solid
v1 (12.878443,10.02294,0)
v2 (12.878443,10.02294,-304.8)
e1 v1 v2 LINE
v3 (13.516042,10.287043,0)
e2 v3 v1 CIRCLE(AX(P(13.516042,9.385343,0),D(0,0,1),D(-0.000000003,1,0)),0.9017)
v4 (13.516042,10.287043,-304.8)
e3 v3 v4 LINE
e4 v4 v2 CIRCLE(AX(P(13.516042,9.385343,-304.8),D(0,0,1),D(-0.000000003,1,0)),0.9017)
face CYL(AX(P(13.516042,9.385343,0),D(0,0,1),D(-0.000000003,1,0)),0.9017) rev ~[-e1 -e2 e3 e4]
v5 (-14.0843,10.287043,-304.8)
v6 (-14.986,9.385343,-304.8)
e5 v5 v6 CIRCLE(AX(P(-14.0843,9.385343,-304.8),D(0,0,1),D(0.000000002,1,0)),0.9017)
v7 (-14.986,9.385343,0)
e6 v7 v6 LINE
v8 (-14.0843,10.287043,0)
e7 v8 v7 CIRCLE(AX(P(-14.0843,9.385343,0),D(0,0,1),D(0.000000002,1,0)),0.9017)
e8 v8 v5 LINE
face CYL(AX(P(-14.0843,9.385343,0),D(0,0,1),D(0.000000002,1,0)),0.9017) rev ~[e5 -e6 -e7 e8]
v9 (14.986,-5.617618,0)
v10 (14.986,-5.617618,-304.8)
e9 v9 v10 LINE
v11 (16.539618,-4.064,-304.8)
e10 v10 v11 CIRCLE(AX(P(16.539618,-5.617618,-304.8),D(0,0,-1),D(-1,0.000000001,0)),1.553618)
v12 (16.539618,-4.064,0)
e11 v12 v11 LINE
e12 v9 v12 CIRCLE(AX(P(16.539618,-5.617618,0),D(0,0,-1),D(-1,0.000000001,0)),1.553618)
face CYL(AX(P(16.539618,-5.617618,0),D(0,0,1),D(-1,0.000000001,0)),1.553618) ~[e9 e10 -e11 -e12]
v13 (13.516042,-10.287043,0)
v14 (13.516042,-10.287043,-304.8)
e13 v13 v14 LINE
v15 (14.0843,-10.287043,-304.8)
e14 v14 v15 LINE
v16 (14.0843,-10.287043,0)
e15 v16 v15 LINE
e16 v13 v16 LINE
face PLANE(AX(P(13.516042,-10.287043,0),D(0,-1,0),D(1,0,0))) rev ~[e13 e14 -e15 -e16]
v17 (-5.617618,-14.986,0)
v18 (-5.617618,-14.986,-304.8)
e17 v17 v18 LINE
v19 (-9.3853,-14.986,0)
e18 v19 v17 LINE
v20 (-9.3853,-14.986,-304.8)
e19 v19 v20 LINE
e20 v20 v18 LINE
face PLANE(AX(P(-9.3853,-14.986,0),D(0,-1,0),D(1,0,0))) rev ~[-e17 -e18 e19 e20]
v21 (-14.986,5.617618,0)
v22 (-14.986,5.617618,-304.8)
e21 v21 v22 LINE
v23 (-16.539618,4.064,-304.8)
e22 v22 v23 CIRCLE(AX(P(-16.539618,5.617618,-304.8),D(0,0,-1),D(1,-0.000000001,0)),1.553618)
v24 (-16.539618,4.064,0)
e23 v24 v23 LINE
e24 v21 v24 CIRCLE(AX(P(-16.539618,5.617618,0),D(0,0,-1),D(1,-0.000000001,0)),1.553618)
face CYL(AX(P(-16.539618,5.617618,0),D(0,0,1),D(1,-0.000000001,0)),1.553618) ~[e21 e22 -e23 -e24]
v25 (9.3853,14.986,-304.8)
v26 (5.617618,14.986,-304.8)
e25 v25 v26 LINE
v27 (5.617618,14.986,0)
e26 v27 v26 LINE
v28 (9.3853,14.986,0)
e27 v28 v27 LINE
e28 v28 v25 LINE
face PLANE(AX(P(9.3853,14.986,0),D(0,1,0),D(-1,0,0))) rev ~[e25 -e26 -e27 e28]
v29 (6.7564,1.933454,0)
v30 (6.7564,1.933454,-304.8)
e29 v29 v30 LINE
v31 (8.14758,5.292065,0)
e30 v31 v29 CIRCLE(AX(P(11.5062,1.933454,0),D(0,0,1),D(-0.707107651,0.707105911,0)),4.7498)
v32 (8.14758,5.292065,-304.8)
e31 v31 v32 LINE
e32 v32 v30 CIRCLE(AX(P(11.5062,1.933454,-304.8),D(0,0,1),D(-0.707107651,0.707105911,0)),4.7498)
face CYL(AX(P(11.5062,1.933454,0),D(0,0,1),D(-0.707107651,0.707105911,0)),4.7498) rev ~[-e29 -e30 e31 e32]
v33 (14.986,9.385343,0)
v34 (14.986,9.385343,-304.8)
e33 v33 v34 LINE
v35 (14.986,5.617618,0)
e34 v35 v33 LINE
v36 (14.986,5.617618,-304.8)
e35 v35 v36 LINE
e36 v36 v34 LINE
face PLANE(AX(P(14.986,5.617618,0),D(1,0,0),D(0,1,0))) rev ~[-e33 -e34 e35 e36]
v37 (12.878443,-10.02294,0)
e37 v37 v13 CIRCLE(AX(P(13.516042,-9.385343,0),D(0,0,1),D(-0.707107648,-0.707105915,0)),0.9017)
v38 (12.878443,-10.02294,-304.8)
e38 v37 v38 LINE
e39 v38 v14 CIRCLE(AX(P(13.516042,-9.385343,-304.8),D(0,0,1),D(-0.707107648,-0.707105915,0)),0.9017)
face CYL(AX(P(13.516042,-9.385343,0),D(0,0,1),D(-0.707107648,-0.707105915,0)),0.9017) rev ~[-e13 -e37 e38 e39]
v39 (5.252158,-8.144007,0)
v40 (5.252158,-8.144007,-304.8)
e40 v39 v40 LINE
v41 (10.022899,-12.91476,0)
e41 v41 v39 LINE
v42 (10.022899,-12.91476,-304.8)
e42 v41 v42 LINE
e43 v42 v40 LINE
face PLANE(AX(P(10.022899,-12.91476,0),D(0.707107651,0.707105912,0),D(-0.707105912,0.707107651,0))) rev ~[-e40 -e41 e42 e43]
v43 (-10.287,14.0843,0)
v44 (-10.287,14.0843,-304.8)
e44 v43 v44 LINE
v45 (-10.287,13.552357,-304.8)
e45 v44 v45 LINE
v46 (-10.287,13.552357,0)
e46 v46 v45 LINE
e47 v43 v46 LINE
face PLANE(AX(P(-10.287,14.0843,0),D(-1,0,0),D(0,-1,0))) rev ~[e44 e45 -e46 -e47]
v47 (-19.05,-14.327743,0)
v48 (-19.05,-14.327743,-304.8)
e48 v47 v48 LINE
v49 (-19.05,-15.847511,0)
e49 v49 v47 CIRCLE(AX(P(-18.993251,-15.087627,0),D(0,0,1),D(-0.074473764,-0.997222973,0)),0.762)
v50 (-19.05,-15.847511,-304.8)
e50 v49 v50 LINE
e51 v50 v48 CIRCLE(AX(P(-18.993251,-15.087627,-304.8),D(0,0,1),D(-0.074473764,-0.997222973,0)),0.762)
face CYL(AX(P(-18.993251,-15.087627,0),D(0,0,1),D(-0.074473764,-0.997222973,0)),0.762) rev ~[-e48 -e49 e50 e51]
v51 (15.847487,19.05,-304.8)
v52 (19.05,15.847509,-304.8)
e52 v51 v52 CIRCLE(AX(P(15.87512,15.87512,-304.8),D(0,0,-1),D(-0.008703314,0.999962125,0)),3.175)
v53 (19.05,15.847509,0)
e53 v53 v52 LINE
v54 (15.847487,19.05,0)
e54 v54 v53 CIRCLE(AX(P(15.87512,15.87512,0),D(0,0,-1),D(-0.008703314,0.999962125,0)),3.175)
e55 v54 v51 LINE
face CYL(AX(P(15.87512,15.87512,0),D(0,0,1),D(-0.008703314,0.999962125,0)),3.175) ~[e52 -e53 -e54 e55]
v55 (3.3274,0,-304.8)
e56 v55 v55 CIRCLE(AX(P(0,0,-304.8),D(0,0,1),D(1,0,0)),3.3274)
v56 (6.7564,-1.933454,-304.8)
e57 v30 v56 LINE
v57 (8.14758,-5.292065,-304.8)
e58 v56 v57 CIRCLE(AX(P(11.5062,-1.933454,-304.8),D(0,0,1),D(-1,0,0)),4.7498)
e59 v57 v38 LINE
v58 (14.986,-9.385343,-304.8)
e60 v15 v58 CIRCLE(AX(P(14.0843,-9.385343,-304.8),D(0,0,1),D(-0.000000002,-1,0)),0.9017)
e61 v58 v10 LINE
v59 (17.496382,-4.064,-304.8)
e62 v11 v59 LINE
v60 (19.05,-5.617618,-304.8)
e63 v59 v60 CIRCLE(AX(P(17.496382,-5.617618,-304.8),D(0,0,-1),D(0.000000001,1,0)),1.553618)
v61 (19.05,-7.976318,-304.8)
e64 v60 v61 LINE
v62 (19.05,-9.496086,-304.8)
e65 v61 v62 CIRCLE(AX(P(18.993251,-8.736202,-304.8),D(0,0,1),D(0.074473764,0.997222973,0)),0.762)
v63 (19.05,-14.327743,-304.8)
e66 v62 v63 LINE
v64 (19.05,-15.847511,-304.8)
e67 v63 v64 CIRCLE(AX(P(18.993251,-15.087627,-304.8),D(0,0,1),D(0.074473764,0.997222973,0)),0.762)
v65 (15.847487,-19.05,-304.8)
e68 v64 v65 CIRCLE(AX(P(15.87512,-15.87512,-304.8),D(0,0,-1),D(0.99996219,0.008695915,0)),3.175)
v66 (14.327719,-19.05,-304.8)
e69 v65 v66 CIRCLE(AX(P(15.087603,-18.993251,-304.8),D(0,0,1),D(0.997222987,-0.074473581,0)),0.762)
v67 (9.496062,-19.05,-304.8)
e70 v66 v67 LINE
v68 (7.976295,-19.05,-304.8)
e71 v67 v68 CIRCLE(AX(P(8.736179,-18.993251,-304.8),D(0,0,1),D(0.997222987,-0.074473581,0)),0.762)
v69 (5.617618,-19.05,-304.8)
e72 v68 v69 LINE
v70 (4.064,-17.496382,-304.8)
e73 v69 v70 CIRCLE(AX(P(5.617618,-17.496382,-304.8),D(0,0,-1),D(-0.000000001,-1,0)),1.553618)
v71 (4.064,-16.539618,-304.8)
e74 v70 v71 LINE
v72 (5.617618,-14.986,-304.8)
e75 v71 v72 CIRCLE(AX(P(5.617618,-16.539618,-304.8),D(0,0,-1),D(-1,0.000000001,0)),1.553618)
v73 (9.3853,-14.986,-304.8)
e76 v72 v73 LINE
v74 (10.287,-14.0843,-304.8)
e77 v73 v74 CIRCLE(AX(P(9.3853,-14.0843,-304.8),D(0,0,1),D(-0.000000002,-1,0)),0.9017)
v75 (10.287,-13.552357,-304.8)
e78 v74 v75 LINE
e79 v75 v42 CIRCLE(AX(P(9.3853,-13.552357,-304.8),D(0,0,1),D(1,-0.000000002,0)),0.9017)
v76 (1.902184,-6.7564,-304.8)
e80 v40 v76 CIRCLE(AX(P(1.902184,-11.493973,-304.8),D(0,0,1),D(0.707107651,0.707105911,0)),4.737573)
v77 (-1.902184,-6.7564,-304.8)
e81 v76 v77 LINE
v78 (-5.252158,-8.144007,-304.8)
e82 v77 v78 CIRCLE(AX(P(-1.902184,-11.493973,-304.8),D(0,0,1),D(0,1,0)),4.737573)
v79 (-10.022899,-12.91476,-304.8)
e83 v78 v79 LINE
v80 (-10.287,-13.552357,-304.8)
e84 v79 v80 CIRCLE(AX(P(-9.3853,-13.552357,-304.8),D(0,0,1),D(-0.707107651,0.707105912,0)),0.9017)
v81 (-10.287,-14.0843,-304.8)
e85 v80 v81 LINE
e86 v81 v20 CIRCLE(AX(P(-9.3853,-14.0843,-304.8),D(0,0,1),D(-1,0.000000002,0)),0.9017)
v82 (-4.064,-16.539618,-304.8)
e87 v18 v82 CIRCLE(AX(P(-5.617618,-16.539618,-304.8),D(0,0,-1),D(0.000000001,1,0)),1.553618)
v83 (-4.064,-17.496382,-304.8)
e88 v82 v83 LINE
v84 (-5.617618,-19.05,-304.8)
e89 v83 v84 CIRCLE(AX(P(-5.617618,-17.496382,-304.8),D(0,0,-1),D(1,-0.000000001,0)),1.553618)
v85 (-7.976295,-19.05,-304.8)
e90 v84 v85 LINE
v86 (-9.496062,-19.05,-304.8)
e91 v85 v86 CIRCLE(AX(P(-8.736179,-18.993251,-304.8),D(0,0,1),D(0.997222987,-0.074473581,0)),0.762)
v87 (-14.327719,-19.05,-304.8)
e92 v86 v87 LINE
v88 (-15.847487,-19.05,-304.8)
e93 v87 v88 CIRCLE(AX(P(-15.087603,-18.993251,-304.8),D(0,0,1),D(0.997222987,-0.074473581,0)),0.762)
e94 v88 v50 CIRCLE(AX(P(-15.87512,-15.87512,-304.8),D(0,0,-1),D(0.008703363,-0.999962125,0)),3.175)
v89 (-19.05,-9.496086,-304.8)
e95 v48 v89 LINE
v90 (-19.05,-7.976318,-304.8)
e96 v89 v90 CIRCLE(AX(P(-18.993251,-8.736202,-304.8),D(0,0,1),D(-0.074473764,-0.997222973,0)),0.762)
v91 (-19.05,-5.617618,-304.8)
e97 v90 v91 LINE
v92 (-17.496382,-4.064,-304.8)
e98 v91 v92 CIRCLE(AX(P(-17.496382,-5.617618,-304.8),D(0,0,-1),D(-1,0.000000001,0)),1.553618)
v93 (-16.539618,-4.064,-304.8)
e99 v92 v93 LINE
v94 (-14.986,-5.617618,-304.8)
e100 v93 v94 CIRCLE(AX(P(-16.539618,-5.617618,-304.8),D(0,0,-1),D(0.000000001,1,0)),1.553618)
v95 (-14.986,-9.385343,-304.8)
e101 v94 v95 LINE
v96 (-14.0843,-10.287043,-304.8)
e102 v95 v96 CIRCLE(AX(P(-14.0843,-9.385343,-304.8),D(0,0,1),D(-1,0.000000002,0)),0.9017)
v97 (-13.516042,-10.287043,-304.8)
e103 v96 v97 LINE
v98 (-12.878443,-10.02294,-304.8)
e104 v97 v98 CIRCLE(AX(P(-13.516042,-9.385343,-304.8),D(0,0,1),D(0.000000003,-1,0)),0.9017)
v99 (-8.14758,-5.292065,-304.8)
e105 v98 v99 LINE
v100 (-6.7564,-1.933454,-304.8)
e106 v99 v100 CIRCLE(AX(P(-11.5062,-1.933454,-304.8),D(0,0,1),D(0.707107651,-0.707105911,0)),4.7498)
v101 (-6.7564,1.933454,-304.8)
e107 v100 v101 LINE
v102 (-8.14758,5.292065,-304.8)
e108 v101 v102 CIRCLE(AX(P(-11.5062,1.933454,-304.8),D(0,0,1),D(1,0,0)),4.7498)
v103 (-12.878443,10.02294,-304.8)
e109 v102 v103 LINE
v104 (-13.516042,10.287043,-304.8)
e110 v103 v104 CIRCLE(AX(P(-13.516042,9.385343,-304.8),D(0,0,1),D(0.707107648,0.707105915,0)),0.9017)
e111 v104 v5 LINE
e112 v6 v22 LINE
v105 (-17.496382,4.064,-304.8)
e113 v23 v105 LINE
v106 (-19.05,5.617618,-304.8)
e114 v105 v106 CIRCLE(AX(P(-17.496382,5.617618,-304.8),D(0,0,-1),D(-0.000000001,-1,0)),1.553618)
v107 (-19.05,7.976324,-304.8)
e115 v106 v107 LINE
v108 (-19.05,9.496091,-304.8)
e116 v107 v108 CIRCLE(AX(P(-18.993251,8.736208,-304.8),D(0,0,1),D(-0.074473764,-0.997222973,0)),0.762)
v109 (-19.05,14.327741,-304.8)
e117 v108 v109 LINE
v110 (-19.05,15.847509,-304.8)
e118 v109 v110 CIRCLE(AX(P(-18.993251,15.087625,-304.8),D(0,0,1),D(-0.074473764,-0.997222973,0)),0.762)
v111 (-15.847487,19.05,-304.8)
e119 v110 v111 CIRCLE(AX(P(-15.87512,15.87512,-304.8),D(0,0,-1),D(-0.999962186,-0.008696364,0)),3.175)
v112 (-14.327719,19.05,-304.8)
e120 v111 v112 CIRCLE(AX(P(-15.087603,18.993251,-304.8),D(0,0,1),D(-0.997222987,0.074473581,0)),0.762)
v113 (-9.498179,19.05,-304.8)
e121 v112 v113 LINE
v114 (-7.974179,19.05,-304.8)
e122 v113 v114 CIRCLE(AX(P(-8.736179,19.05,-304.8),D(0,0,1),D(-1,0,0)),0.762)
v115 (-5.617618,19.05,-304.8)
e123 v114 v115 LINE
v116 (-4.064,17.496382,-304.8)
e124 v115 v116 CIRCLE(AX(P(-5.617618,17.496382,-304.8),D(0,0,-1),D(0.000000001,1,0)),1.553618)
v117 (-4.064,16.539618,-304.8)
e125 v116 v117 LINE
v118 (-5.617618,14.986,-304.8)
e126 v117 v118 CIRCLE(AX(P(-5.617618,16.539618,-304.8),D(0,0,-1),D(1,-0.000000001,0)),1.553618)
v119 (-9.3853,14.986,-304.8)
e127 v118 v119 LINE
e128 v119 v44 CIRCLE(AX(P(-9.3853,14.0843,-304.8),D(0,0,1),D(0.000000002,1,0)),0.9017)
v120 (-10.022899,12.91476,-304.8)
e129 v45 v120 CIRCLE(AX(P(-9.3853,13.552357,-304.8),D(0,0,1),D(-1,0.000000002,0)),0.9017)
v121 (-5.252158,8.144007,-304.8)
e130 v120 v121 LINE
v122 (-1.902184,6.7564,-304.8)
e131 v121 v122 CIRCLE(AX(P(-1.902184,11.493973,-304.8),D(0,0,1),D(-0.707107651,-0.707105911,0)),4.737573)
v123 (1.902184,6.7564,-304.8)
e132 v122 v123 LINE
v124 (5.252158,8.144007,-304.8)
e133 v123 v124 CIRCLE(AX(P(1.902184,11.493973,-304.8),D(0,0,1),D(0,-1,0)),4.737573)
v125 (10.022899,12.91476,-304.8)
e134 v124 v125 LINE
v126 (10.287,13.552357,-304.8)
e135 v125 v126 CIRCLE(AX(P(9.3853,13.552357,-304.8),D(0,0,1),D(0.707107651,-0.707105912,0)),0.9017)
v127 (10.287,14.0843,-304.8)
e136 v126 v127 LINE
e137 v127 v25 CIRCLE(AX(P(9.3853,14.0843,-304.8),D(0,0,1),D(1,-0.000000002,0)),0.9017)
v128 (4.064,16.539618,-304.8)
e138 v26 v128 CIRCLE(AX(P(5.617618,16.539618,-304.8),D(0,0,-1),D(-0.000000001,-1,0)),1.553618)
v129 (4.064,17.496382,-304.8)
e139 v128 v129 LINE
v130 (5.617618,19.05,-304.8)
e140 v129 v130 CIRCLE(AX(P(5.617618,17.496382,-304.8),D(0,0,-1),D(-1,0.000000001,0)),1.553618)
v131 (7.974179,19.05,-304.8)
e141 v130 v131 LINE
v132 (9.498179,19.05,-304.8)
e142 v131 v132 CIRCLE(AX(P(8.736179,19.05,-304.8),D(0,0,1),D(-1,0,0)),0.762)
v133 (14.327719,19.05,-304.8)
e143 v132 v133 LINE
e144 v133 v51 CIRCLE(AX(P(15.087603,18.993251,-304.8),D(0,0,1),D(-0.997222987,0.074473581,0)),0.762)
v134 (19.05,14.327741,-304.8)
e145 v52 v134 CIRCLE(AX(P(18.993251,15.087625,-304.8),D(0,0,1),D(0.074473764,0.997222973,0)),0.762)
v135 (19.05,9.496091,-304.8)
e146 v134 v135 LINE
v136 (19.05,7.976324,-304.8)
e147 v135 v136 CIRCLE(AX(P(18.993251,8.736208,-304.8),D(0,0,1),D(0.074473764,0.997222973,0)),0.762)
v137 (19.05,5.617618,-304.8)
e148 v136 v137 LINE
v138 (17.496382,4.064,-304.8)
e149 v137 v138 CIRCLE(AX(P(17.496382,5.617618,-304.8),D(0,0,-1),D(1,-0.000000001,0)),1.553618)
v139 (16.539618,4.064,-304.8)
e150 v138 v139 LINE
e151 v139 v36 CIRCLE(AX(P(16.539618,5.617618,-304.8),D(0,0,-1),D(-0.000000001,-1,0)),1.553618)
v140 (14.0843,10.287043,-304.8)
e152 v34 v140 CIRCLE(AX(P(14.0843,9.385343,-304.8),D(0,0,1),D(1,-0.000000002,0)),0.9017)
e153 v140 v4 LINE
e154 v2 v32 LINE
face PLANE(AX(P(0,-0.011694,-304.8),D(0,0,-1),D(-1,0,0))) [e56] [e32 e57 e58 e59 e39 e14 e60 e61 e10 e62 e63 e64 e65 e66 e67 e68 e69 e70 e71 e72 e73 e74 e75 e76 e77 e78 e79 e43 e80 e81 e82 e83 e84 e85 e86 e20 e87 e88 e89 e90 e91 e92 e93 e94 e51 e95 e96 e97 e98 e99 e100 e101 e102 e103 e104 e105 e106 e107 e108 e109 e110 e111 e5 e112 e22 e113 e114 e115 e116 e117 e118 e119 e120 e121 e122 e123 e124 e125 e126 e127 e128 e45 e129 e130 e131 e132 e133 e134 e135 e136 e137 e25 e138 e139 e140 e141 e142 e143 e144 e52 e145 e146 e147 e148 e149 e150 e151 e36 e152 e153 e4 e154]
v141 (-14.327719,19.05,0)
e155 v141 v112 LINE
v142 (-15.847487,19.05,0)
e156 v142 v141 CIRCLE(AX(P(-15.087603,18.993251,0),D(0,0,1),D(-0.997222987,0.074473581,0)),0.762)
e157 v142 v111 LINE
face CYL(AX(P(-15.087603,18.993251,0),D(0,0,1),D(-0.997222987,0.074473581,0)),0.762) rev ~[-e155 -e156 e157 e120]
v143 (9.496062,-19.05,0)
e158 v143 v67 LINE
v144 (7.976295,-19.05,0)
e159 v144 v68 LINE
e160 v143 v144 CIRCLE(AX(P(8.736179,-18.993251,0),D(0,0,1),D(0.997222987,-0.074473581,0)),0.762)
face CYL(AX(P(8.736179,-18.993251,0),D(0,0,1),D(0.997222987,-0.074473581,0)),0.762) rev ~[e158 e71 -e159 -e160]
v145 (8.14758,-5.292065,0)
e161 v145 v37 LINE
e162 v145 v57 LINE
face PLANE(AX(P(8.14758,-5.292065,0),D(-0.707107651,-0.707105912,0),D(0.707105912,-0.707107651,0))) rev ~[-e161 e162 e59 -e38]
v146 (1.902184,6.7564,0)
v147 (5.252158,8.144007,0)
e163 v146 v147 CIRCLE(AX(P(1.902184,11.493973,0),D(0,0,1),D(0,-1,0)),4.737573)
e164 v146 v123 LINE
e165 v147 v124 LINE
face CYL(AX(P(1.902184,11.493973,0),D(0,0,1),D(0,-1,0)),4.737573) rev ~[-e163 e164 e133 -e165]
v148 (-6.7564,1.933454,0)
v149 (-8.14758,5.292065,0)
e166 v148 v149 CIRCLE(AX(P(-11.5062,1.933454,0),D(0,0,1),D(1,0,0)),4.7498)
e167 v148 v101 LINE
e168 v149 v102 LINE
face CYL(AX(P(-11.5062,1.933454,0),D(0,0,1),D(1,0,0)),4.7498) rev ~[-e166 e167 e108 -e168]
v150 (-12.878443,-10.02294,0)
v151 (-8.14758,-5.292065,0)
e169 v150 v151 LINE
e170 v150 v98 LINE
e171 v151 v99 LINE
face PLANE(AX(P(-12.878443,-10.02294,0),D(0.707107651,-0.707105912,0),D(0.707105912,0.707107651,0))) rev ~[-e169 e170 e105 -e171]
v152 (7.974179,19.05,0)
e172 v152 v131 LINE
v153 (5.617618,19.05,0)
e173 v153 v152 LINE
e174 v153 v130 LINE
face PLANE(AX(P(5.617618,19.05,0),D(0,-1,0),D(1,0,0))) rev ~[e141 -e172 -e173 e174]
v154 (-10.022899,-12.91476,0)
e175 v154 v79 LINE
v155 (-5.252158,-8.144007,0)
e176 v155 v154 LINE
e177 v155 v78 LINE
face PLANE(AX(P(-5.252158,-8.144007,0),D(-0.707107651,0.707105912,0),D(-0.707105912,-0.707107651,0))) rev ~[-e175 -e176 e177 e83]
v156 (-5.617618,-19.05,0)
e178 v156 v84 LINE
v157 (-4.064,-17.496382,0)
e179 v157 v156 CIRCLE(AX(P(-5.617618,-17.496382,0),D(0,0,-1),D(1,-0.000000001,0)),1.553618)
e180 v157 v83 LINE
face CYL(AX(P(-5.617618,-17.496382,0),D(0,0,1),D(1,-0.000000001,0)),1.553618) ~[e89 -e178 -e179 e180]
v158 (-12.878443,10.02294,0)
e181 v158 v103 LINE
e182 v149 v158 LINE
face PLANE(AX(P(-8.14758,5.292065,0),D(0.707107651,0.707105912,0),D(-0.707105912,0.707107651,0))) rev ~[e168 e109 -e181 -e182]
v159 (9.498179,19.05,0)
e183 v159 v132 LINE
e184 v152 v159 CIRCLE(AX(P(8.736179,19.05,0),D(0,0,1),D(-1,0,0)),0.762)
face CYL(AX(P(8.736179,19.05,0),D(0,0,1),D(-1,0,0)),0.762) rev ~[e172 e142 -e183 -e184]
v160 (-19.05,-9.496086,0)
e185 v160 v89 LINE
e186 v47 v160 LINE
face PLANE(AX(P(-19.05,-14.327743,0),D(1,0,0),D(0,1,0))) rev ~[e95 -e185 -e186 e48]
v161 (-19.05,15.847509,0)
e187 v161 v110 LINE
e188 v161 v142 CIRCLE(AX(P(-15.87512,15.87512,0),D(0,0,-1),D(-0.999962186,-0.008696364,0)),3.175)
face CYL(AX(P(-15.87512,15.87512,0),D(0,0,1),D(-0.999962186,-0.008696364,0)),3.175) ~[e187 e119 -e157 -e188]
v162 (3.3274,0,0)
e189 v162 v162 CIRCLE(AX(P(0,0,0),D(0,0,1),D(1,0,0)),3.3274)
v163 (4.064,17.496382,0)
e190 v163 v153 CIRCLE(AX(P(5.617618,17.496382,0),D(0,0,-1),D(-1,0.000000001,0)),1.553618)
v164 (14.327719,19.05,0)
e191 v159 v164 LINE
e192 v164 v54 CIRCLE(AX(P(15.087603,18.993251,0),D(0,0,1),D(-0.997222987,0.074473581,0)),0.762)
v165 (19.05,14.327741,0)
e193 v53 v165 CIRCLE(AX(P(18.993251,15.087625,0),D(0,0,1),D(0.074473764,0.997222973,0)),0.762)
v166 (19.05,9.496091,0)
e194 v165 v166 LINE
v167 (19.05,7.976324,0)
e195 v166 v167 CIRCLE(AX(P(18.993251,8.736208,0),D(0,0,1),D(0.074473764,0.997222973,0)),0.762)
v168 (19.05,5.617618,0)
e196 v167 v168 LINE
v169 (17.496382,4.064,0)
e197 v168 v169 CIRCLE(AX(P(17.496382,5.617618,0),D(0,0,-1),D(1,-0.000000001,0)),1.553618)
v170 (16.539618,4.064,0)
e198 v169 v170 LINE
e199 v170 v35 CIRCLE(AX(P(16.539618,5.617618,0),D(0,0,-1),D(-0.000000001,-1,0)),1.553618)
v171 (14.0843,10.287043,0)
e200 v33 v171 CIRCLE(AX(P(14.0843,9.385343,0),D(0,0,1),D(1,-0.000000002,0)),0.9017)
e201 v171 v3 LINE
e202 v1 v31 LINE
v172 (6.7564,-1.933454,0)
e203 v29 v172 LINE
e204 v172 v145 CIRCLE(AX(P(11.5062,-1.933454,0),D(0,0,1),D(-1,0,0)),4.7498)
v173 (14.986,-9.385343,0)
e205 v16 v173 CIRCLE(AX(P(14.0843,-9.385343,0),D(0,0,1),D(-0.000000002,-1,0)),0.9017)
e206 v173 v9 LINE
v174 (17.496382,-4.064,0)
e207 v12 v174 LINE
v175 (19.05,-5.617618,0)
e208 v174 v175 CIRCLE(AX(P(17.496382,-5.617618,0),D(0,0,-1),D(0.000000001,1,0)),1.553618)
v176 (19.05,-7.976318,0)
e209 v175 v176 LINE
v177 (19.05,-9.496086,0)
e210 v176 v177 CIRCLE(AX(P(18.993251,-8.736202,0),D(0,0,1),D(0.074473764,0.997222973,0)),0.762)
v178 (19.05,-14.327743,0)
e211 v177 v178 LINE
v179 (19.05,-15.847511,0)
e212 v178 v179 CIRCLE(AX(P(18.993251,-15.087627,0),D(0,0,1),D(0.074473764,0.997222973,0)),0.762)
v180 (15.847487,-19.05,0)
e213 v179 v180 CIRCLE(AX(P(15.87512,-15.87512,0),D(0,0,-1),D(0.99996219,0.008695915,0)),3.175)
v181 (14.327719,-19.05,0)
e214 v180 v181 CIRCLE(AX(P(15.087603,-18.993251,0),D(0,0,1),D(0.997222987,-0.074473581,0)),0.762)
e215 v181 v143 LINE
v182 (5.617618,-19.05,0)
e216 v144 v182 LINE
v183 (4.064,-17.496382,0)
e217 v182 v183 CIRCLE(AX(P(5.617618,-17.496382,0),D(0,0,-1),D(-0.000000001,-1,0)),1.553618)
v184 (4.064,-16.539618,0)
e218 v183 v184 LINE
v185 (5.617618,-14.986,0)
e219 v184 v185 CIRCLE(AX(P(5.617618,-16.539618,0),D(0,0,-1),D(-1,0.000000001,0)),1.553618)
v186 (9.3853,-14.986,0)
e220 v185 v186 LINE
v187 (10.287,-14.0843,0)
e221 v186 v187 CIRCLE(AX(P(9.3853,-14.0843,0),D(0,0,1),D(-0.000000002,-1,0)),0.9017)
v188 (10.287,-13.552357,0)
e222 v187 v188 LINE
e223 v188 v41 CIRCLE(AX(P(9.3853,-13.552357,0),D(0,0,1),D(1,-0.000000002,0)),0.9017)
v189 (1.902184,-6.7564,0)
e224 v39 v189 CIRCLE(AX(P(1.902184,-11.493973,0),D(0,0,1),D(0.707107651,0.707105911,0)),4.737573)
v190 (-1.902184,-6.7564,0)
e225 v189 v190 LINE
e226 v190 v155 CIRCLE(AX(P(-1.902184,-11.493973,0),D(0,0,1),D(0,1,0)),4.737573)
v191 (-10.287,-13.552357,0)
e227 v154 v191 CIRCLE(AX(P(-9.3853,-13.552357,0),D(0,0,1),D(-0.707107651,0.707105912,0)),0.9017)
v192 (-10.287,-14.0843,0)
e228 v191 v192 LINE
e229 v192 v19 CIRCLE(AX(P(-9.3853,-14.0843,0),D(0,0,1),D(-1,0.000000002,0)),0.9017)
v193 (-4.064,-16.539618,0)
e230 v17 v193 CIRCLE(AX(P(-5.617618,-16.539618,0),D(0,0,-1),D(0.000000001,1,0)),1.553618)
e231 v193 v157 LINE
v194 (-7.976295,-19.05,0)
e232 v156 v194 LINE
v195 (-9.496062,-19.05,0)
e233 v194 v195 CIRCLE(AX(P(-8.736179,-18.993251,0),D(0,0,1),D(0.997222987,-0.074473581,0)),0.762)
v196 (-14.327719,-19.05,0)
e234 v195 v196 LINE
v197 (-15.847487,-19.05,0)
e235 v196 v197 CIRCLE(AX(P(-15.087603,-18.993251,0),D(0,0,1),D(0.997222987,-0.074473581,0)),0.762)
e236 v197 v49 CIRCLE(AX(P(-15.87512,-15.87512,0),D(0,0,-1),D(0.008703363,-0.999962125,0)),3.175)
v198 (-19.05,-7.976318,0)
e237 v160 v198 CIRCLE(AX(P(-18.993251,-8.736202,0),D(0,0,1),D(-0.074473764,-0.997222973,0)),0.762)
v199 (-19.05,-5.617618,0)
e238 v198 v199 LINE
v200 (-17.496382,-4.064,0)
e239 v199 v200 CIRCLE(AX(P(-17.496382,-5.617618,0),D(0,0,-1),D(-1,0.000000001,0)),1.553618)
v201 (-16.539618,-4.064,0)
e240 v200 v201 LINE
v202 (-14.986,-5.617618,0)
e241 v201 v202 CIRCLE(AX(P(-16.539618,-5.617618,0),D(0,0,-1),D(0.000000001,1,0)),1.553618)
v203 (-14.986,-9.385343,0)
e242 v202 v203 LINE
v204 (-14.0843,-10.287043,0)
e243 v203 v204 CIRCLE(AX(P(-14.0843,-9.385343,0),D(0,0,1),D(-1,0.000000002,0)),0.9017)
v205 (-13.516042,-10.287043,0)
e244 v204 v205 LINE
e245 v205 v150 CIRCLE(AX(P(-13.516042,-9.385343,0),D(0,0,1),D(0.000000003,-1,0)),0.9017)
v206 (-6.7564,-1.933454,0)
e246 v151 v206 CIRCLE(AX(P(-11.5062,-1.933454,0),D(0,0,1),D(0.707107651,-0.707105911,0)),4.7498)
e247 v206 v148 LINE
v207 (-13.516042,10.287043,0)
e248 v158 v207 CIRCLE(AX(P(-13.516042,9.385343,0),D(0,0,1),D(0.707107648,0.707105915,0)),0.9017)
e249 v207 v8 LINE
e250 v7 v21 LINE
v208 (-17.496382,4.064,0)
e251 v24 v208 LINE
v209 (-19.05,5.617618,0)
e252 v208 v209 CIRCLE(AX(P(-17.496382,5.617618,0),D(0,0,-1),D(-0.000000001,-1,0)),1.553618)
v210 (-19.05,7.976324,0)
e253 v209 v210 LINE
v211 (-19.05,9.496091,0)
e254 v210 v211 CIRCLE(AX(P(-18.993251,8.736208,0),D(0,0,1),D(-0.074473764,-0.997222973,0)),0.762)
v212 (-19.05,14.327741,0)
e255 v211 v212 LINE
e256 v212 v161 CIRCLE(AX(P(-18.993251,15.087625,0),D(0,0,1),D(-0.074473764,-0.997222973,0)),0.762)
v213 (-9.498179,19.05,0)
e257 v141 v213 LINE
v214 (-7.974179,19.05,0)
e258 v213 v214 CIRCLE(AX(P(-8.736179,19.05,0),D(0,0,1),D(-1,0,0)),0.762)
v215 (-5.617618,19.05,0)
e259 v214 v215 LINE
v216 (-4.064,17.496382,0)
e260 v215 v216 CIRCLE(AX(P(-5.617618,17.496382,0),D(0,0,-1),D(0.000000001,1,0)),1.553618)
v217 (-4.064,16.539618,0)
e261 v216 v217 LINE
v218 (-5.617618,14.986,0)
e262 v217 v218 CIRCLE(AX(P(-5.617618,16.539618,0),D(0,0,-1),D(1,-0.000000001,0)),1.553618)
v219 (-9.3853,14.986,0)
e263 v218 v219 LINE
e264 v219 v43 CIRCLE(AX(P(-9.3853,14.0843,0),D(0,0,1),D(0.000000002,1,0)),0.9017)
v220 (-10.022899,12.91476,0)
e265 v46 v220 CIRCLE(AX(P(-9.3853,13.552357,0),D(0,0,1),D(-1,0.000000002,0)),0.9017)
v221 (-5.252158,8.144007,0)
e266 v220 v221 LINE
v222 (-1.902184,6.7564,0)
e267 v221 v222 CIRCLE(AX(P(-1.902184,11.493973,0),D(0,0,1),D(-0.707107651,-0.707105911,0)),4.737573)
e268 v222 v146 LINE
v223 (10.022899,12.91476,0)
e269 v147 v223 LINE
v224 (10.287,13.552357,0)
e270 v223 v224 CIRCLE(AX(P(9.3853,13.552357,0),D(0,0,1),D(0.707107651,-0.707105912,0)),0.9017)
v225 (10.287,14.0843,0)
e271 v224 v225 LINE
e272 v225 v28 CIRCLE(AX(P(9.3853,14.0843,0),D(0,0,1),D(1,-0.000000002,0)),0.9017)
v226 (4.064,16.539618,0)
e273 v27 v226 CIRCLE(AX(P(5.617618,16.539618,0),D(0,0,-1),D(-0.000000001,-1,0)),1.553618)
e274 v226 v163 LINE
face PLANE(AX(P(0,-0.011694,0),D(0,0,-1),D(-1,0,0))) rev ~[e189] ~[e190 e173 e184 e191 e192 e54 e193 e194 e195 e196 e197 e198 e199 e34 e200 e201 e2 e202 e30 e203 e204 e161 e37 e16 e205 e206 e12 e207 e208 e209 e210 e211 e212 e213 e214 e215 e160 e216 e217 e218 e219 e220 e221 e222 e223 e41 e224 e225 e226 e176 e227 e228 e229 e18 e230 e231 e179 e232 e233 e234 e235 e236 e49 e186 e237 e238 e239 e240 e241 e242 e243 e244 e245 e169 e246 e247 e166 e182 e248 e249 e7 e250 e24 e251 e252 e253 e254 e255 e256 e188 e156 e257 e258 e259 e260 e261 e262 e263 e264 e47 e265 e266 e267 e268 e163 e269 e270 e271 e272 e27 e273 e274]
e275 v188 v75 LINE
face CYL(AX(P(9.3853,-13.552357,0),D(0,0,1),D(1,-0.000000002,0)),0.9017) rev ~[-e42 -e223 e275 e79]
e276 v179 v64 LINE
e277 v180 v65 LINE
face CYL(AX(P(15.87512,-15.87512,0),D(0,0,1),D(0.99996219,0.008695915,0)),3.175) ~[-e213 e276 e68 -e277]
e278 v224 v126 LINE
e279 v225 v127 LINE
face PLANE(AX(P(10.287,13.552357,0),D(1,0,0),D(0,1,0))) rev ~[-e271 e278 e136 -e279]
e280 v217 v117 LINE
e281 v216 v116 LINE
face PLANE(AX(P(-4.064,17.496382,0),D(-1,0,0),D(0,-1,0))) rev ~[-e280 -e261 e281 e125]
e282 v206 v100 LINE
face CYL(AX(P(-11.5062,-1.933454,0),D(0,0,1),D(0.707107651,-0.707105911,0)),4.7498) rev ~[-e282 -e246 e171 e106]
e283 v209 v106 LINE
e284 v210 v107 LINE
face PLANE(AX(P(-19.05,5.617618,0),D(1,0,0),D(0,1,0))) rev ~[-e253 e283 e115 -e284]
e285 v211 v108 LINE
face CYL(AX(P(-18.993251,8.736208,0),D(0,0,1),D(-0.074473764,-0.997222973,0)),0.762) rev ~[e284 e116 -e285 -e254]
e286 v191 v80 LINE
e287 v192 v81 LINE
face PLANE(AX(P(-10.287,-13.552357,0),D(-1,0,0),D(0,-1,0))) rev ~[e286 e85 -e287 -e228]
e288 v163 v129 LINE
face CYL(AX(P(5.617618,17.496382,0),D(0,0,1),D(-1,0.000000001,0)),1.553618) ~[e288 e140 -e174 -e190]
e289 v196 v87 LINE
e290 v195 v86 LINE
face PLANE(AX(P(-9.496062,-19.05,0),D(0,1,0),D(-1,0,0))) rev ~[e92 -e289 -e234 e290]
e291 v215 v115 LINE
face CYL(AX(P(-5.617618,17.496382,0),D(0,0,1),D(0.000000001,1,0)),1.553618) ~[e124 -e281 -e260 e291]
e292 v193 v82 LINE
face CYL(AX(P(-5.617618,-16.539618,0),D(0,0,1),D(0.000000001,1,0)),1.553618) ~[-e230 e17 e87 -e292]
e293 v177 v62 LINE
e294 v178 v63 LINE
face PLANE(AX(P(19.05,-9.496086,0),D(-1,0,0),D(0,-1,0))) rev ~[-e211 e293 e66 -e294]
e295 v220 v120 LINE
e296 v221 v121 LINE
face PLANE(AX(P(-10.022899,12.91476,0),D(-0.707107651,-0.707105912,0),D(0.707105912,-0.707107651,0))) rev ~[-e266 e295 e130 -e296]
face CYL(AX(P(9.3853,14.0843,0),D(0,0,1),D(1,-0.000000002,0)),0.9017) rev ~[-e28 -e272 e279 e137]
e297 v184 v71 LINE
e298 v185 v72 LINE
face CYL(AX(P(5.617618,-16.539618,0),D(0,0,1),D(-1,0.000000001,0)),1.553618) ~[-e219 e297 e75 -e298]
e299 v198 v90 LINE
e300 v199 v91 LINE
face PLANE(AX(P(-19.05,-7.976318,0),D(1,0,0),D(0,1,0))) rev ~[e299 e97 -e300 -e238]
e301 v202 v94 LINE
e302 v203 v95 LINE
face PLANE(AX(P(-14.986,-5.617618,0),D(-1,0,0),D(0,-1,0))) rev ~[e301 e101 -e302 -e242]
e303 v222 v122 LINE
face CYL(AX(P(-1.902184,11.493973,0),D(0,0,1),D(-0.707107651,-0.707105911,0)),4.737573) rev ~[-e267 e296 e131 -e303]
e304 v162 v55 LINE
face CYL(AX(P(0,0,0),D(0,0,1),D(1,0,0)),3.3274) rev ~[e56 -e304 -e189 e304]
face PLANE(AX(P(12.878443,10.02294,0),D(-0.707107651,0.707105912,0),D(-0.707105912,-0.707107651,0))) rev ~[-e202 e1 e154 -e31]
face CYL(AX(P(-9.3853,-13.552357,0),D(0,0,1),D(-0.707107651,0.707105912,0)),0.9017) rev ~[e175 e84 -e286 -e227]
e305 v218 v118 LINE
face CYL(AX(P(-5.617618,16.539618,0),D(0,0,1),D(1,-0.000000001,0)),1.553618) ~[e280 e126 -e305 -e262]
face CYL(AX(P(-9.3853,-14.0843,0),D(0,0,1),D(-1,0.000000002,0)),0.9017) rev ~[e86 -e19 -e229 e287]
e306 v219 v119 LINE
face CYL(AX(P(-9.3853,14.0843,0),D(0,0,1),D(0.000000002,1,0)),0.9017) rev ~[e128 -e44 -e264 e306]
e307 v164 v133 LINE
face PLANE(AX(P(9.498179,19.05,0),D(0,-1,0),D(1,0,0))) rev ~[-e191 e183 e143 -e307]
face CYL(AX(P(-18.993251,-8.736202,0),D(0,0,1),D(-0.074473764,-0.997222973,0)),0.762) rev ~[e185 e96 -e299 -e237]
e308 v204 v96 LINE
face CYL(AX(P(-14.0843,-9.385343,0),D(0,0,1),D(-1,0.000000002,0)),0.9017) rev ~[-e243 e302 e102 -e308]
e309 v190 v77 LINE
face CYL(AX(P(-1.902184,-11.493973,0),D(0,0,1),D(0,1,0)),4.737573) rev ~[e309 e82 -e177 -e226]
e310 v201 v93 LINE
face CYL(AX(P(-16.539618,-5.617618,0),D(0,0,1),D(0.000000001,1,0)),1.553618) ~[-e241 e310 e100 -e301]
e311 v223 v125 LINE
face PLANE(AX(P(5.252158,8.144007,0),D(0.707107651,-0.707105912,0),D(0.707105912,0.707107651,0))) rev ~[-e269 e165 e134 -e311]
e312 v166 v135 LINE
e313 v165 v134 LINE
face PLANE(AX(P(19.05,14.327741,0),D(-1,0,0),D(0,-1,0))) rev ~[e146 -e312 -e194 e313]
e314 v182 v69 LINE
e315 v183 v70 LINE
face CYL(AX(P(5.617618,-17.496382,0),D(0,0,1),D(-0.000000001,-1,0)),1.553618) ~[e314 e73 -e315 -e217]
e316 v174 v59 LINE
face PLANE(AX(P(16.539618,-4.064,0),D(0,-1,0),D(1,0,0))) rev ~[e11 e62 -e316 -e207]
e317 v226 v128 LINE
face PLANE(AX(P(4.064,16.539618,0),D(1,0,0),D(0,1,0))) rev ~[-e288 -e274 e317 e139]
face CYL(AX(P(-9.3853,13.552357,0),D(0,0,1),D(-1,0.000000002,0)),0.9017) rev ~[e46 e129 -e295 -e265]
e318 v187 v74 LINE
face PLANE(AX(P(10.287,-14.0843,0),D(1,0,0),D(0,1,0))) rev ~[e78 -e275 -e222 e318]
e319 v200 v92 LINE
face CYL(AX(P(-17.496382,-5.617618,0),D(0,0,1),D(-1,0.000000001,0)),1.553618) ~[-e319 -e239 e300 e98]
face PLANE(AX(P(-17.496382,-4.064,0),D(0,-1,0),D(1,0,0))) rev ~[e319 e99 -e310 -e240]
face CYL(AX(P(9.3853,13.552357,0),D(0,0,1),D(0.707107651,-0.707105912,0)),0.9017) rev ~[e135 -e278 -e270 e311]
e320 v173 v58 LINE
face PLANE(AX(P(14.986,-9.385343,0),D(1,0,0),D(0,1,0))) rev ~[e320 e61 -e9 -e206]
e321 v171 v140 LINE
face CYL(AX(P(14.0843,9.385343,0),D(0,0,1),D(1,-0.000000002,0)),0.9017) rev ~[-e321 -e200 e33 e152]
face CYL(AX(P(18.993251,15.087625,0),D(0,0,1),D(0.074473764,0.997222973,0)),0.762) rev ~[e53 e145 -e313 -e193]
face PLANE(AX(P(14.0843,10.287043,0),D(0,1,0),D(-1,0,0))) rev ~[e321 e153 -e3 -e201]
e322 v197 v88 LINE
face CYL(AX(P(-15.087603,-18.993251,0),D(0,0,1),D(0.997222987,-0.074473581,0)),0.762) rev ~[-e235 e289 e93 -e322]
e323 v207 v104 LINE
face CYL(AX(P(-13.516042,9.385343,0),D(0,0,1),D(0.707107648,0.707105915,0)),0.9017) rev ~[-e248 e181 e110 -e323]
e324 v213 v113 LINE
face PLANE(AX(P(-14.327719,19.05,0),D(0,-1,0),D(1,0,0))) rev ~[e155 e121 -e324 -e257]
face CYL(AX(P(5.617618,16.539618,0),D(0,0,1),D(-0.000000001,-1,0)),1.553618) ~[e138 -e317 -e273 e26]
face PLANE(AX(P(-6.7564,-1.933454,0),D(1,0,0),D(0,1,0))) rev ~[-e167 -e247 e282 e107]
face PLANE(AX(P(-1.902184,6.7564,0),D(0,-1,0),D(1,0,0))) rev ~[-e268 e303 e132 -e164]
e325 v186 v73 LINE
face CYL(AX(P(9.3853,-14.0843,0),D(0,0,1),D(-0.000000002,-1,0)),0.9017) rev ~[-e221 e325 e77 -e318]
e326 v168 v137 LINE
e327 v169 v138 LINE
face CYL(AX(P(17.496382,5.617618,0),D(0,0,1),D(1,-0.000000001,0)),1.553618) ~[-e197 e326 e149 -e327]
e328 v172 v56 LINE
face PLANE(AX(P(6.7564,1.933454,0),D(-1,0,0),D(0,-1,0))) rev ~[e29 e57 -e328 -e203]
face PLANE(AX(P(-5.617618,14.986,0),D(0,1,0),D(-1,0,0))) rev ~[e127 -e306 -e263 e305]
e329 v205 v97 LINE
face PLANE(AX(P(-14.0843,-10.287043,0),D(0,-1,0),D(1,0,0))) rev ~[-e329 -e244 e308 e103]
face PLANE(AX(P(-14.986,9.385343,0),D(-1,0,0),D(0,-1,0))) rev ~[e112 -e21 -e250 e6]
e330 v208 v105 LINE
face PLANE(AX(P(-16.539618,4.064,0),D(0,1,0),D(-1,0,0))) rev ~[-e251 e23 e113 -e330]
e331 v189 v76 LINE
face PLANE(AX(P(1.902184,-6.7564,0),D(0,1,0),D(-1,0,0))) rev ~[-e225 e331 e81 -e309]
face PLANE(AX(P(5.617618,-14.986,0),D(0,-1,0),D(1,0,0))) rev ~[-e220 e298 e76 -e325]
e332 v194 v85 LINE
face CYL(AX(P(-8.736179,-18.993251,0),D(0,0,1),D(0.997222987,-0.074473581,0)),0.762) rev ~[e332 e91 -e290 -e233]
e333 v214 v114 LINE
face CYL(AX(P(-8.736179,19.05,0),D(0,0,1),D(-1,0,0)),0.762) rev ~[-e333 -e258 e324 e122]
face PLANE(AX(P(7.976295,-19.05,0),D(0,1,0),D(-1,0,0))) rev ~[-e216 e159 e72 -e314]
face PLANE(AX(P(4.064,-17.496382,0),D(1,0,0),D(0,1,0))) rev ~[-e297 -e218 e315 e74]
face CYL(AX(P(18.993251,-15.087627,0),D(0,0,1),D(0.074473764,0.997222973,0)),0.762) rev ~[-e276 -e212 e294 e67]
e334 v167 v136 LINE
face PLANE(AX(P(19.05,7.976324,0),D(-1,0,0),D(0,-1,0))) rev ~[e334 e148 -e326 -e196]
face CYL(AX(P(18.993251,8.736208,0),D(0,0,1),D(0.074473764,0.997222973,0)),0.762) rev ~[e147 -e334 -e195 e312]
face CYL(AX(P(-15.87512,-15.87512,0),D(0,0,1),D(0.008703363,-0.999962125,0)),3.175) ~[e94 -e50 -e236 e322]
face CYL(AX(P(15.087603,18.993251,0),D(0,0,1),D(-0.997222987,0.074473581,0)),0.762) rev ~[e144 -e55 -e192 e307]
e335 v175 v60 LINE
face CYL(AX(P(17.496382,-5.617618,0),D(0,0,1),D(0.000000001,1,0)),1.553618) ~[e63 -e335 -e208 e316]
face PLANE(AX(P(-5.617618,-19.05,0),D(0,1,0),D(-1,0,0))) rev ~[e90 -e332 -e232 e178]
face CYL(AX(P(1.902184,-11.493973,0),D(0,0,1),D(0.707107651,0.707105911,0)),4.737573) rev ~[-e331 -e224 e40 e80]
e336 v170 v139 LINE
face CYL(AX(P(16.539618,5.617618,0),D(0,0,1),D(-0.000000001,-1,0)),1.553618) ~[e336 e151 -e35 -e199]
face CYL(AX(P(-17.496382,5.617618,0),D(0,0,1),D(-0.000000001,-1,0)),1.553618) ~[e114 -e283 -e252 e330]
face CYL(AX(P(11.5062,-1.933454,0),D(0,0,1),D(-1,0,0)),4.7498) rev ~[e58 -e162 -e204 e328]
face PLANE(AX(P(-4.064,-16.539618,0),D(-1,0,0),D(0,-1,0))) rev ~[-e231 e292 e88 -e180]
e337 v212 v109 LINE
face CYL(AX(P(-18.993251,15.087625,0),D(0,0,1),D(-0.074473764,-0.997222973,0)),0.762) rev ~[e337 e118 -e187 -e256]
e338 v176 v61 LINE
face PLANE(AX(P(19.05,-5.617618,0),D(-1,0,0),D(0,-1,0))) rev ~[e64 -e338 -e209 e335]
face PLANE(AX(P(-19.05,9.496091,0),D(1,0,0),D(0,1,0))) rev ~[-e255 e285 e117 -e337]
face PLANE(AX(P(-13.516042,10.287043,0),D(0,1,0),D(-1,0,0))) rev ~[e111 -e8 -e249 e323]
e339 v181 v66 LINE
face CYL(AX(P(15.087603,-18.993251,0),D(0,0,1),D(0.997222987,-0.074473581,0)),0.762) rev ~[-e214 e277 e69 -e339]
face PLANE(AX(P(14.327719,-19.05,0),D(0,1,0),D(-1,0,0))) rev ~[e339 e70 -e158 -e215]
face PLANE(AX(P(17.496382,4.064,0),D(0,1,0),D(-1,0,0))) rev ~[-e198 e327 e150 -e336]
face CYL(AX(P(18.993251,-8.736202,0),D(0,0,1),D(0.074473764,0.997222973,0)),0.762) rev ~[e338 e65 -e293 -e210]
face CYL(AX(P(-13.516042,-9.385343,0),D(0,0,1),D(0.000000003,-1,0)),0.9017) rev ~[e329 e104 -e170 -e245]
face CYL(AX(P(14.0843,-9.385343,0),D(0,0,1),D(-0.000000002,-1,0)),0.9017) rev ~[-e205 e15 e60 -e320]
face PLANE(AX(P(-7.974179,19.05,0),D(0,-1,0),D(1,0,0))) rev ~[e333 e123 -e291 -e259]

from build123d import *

# Parameters (mm, degrees)
SKETCH1_R      = 3.3274
EXTRUDE1_DEPTH = 304.8


with BuildPart() as part:
    # Sketch1 → Extrude1 (new body)
    with BuildSketch(Plane.XY):
        with BuildLine():
            Line((-10.022898969, 12.91475973), (-5.252158105, 8.144007132))
            ThreePointArc((-5.252158105, 8.144007132), (-3.715177372, 7.117027388), (-1.902183975, 6.7564))
            Line((-1.902183975, 6.7564), (1.902183975, 6.7564))
            ThreePointArc((1.902183975, 6.7564), (3.715177372, 7.117027388), (5.252158105, 8.144007132))
            Line((5.252158105, 8.144007132), (10.022898969, 12.91475973))
            ThreePointArc((10.022898969, 12.91475973), (10.218362387, 13.207291992), (10.287, 13.552357131))
            Line((10.287, 13.552357131), (10.287, 14.0843))
            ThreePointArc((10.287, 14.0843), (10.022898185, 14.721898185), (9.3853, 14.986))
            Line((9.3853, 14.986), (5.617617549, 14.986))
            ThreePointArc((5.617617549, 14.986), (4.519044045, 15.441044045), (4.064, 16.539617549))
            Line((4.064, 16.539617549), (4.064, 17.496382451))
            ThreePointArc((4.064, 17.496382451), (4.519044045, 18.594955955), (5.617617549, 19.05))
            Line((5.617617549, 19.05), (7.974178704, 19.05))
            ThreePointArc((7.974178704, 19.05), (8.736178704, 18.288), (9.498178704, 19.05))
            Line((9.498178704, 19.05), (14.327719207, 19.05))
            ThreePointArc((14.327719207, 19.05), (15.087603123, 18.231251131), (15.847487039, 19.05))
            ThreePointArc((15.847487039, 19.05), (18.120176289, 18.120192083), (19.05, 15.847509295))
            ThreePointArc((19.05, 15.847509295), (18.231250992, 15.08762539), (19.05, 14.327741484))
            Line((19.05, 14.327741484), (19.05, 9.496091471))
            ThreePointArc((19.05, 9.496091471), (18.231250992, 8.736207565), (19.05, 7.97632366))
            Line((19.05, 7.97632366), (19.05, 5.617617549))
            ThreePointArc((19.05, 5.617617549), (18.594955955, 4.519044045), (17.496382451, 4.064))
            Line((17.496382451, 4.064), (16.539617549, 4.064))
            ThreePointArc((16.539617549, 4.064), (15.441044045, 4.519044045), (14.986, 5.617617549))
            Line((14.986, 5.617617549), (14.986, 9.385342516))
            ThreePointArc((14.986, 9.385342516), (14.721898185, 10.022940701), (14.0843, 10.287042516))
            Line((14.0843, 10.287042516), (13.516042086, 10.287042516))
            ThreePointArc((13.516042086, 10.287042516), (13.170975923, 10.218404478), (12.878443117, 10.022939917))
            Line((12.878443117, 10.022939917), (8.14758008, 5.292065243))
            ThreePointArc((8.14758008, 5.292065243), (7.117955879, 3.751120653), (6.7564, 1.933453584))
            Line((6.7564, 1.933453584), (6.7564, -1.933453584))
            ThreePointArc((6.7564, -1.933453584), (7.117955879, -3.751120653), (8.14758008, -5.292065243))
            Line((8.14758008, -5.292065243), (12.878443117, -10.022939917))
            ThreePointArc((12.878443117, -10.022939917), (13.170975923, -10.218404478), (13.516042086, -10.287042516))
            Line((13.516042086, -10.287042516), (14.0843, -10.287042516))
            ThreePointArc((14.0843, -10.287042516), (14.721898185, -10.022940701), (14.986, -9.385342516))
            Line((14.986, -9.385342516), (14.986, -5.617617549))
            ThreePointArc((14.986, -5.617617549), (15.441044045, -4.519044045), (16.539617549, -4.064))
            Line((16.539617549, -4.064), (17.496382451, -4.064))
            ThreePointArc((17.496382451, -4.064), (18.594955955, -4.519044045), (19.05, -5.617617549))
            Line((19.05, -5.617617549), (19.05, -7.976318491))
            ThreePointArc((19.05, -7.976318491), (18.231250992, -8.736202396), (19.05, -9.496086302))
            Line((19.05, -9.496086302), (19.05, -14.32774291))
            ThreePointArc((19.05, -14.32774291), (18.231250992, -15.087626816), (19.05, -15.847510721))
            ThreePointArc((19.05, -15.847510721), (18.120175716, -18.120192644), (15.847486868, -19.05))
            ThreePointArc((15.847486868, -19.05), (15.087602952, -18.231251131), (14.327719036, -19.05))
            Line((14.327719036, -19.05), (9.496062448, -19.05))
            ThreePointArc((9.496062448, -19.05), (8.736178532, -18.231251131), (7.976294616, -19.05))
            Line((7.976294616, -19.05), (5.617617549, -19.05))
            ThreePointArc((5.617617549, -19.05), (4.519044045, -18.594955955), (4.064, -17.496382451))
            Line((4.064, -17.496382451), (4.064, -16.539617549))
            ThreePointArc((4.064, -16.539617549), (4.519044045, -15.441044045), (5.617617549, -14.986))
            Line((5.617617549, -14.986), (9.3853, -14.986))
            ThreePointArc((9.3853, -14.986), (10.022898185, -14.721898185), (10.287, -14.0843))
            Line((10.287, -14.0843), (10.287, -13.552357131))
            ThreePointArc((10.287, -13.552357131), (10.218362387, -13.207291992), (10.022898969, -12.91475973))
            Line((10.022898969, -12.91475973), (5.252158105, -8.144007132))
            ThreePointArc((5.252158105, -8.144007132), (3.715177372, -7.117027388), (1.902183975, -6.7564))
            Line((1.902183975, -6.7564), (-1.902183975, -6.7564))
            ThreePointArc((-1.902183975, -6.7564), (-3.715177372, -7.117027388), (-5.252158105, -8.144007132))
            Line((-5.252158105, -8.144007132), (-10.022898969, -12.91475973))
            ThreePointArc((-10.022898969, -12.91475973), (-10.218362387, -13.207291992), (-10.287, -13.552357131))
            Line((-10.287, -13.552357131), (-10.287, -14.0843))
            ThreePointArc((-10.287, -14.0843), (-10.022898185, -14.721898185), (-9.3853, -14.986))
            Line((-9.3853, -14.986), (-5.617617549, -14.986))
            ThreePointArc((-5.617617549, -14.986), (-4.519044045, -15.441044045), (-4.064, -16.539617549))
            Line((-4.064, -16.539617549), (-4.064, -17.496382451))
            ThreePointArc((-4.064, -17.496382451), (-4.519044045, -18.594955955), (-5.617617549, -19.05))
            Line((-5.617617549, -19.05), (-7.976294616, -19.05))
            ThreePointArc((-7.976294616, -19.05), (-8.736178532, -18.231251131), (-9.496062448, -19.05))
            Line((-9.496062448, -19.05), (-14.327719036, -19.05))
            ThreePointArc((-14.327719036, -19.05), (-15.087602952, -18.231251131), (-15.847486868, -19.05))
            ThreePointArc((-15.847486868, -19.05), (-18.120175716, -18.120192644), (-19.05, -15.847510721))
            ThreePointArc((-19.05, -15.847510721), (-18.231250992, -15.087626816), (-19.05, -14.32774291))
            Line((-19.05, -14.32774291), (-19.05, -9.496086302))
            ThreePointArc((-19.05, -9.496086302), (-18.231250992, -8.736202396), (-19.05, -7.976318491))
            Line((-19.05, -7.976318491), (-19.05, -5.617617549))
            ThreePointArc((-19.05, -5.617617549), (-18.594955955, -4.519044045), (-17.496382451, -4.064))
            Line((-17.496382451, -4.064), (-16.539617549, -4.064))
            ThreePointArc((-16.539617549, -4.064), (-15.441044045, -4.519044045), (-14.986, -5.617617549))
            Line((-14.986, -5.617617549), (-14.986, -9.385342516))
            ThreePointArc((-14.986, -9.385342516), (-14.721898185, -10.022940701), (-14.0843, -10.287042516))
            Line((-14.0843, -10.287042516), (-13.516042086, -10.287042516))
            ThreePointArc((-13.516042086, -10.287042516), (-13.170975923, -10.218404478), (-12.878443117, -10.022939917))
            Line((-12.878443117, -10.022939917), (-8.14758008, -5.292065243))
            ThreePointArc((-8.14758008, -5.292065243), (-7.117955879, -3.751120653), (-6.7564, -1.933453584))
            Line((-6.7564, -1.933453584), (-6.7564, 1.933453584))
            ThreePointArc((-6.7564, 1.933453584), (-7.117955879, 3.751120653), (-8.14758008, 5.292065243))
            Line((-8.14758008, 5.292065243), (-12.878443117, 10.022939917))
            ThreePointArc((-12.878443117, 10.022939917), (-13.170975923, 10.218404478), (-13.516042086, 10.287042516))
            Line((-13.516042086, 10.287042516), (-14.0843, 10.287042516))
            ThreePointArc((-14.0843, 10.287042516), (-14.721898185, 10.022940701), (-14.986, 9.385342516))
            Line((-14.986, 9.385342516), (-14.986, 5.617617549))
            ThreePointArc((-14.986, 5.617617549), (-15.441044045, 4.519044045), (-16.539617549, 4.064))
            Line((-16.539617549, 4.064), (-17.496382451, 4.064))
            ThreePointArc((-17.496382451, 4.064), (-18.594955955, 4.519044045), (-19.05, 5.617617549))
            Line((-19.05, 5.617617549), (-19.05, 7.97632366))
            ThreePointArc((-19.05, 7.97632366), (-18.231250992, 8.736207565), (-19.05, 9.496091471))
            Line((-19.05, 9.496091471), (-19.05, 14.327741484))
            ThreePointArc((-19.05, 14.327741484), (-18.231250992, 15.08762539), (-19.05, 15.847509295))
            ThreePointArc((-19.05, 15.847509295), (-18.120176289, 18.120192083), (-15.847487039, 19.05))
            ThreePointArc((-15.847487039, 19.05), (-15.087603123, 18.231251131), (-14.327719207, 19.05))
            Line((-14.327719207, 19.05), (-9.498178704, 19.05))
            ThreePointArc((-9.498178704, 19.05), (-8.736178704, 18.288), (-7.974178704, 19.05))
            Line((-7.974178704, 19.05), (-5.617617549, 19.05))
            ThreePointArc((-5.617617549, 19.05), (-4.519044045, 18.594955955), (-4.064, 17.496382451))
            Line((-4.064, 17.496382451), (-4.064, 16.539617549))
            ThreePointArc((-4.064, 16.539617549), (-4.519044045, 15.441044045), (-5.617617549, 14.986))
            Line((-5.617617549, 14.986), (-9.3853, 14.986))
            ThreePointArc((-9.3853, 14.986), (-10.022898185, 14.721898185), (-10.287, 14.0843))
            Line((-10.287, 14.0843), (-10.287, 13.552357131))
            ThreePointArc((-10.287, 13.552357131), (-10.218362387, 13.207291992), (-10.022898969, 12.91475973))
        make_face()
        Circle(SKETCH1_R, mode=Mode.SUBTRACT)
    extrude(amount=-EXTRUDE1_DEPTH)


solid = part.part
